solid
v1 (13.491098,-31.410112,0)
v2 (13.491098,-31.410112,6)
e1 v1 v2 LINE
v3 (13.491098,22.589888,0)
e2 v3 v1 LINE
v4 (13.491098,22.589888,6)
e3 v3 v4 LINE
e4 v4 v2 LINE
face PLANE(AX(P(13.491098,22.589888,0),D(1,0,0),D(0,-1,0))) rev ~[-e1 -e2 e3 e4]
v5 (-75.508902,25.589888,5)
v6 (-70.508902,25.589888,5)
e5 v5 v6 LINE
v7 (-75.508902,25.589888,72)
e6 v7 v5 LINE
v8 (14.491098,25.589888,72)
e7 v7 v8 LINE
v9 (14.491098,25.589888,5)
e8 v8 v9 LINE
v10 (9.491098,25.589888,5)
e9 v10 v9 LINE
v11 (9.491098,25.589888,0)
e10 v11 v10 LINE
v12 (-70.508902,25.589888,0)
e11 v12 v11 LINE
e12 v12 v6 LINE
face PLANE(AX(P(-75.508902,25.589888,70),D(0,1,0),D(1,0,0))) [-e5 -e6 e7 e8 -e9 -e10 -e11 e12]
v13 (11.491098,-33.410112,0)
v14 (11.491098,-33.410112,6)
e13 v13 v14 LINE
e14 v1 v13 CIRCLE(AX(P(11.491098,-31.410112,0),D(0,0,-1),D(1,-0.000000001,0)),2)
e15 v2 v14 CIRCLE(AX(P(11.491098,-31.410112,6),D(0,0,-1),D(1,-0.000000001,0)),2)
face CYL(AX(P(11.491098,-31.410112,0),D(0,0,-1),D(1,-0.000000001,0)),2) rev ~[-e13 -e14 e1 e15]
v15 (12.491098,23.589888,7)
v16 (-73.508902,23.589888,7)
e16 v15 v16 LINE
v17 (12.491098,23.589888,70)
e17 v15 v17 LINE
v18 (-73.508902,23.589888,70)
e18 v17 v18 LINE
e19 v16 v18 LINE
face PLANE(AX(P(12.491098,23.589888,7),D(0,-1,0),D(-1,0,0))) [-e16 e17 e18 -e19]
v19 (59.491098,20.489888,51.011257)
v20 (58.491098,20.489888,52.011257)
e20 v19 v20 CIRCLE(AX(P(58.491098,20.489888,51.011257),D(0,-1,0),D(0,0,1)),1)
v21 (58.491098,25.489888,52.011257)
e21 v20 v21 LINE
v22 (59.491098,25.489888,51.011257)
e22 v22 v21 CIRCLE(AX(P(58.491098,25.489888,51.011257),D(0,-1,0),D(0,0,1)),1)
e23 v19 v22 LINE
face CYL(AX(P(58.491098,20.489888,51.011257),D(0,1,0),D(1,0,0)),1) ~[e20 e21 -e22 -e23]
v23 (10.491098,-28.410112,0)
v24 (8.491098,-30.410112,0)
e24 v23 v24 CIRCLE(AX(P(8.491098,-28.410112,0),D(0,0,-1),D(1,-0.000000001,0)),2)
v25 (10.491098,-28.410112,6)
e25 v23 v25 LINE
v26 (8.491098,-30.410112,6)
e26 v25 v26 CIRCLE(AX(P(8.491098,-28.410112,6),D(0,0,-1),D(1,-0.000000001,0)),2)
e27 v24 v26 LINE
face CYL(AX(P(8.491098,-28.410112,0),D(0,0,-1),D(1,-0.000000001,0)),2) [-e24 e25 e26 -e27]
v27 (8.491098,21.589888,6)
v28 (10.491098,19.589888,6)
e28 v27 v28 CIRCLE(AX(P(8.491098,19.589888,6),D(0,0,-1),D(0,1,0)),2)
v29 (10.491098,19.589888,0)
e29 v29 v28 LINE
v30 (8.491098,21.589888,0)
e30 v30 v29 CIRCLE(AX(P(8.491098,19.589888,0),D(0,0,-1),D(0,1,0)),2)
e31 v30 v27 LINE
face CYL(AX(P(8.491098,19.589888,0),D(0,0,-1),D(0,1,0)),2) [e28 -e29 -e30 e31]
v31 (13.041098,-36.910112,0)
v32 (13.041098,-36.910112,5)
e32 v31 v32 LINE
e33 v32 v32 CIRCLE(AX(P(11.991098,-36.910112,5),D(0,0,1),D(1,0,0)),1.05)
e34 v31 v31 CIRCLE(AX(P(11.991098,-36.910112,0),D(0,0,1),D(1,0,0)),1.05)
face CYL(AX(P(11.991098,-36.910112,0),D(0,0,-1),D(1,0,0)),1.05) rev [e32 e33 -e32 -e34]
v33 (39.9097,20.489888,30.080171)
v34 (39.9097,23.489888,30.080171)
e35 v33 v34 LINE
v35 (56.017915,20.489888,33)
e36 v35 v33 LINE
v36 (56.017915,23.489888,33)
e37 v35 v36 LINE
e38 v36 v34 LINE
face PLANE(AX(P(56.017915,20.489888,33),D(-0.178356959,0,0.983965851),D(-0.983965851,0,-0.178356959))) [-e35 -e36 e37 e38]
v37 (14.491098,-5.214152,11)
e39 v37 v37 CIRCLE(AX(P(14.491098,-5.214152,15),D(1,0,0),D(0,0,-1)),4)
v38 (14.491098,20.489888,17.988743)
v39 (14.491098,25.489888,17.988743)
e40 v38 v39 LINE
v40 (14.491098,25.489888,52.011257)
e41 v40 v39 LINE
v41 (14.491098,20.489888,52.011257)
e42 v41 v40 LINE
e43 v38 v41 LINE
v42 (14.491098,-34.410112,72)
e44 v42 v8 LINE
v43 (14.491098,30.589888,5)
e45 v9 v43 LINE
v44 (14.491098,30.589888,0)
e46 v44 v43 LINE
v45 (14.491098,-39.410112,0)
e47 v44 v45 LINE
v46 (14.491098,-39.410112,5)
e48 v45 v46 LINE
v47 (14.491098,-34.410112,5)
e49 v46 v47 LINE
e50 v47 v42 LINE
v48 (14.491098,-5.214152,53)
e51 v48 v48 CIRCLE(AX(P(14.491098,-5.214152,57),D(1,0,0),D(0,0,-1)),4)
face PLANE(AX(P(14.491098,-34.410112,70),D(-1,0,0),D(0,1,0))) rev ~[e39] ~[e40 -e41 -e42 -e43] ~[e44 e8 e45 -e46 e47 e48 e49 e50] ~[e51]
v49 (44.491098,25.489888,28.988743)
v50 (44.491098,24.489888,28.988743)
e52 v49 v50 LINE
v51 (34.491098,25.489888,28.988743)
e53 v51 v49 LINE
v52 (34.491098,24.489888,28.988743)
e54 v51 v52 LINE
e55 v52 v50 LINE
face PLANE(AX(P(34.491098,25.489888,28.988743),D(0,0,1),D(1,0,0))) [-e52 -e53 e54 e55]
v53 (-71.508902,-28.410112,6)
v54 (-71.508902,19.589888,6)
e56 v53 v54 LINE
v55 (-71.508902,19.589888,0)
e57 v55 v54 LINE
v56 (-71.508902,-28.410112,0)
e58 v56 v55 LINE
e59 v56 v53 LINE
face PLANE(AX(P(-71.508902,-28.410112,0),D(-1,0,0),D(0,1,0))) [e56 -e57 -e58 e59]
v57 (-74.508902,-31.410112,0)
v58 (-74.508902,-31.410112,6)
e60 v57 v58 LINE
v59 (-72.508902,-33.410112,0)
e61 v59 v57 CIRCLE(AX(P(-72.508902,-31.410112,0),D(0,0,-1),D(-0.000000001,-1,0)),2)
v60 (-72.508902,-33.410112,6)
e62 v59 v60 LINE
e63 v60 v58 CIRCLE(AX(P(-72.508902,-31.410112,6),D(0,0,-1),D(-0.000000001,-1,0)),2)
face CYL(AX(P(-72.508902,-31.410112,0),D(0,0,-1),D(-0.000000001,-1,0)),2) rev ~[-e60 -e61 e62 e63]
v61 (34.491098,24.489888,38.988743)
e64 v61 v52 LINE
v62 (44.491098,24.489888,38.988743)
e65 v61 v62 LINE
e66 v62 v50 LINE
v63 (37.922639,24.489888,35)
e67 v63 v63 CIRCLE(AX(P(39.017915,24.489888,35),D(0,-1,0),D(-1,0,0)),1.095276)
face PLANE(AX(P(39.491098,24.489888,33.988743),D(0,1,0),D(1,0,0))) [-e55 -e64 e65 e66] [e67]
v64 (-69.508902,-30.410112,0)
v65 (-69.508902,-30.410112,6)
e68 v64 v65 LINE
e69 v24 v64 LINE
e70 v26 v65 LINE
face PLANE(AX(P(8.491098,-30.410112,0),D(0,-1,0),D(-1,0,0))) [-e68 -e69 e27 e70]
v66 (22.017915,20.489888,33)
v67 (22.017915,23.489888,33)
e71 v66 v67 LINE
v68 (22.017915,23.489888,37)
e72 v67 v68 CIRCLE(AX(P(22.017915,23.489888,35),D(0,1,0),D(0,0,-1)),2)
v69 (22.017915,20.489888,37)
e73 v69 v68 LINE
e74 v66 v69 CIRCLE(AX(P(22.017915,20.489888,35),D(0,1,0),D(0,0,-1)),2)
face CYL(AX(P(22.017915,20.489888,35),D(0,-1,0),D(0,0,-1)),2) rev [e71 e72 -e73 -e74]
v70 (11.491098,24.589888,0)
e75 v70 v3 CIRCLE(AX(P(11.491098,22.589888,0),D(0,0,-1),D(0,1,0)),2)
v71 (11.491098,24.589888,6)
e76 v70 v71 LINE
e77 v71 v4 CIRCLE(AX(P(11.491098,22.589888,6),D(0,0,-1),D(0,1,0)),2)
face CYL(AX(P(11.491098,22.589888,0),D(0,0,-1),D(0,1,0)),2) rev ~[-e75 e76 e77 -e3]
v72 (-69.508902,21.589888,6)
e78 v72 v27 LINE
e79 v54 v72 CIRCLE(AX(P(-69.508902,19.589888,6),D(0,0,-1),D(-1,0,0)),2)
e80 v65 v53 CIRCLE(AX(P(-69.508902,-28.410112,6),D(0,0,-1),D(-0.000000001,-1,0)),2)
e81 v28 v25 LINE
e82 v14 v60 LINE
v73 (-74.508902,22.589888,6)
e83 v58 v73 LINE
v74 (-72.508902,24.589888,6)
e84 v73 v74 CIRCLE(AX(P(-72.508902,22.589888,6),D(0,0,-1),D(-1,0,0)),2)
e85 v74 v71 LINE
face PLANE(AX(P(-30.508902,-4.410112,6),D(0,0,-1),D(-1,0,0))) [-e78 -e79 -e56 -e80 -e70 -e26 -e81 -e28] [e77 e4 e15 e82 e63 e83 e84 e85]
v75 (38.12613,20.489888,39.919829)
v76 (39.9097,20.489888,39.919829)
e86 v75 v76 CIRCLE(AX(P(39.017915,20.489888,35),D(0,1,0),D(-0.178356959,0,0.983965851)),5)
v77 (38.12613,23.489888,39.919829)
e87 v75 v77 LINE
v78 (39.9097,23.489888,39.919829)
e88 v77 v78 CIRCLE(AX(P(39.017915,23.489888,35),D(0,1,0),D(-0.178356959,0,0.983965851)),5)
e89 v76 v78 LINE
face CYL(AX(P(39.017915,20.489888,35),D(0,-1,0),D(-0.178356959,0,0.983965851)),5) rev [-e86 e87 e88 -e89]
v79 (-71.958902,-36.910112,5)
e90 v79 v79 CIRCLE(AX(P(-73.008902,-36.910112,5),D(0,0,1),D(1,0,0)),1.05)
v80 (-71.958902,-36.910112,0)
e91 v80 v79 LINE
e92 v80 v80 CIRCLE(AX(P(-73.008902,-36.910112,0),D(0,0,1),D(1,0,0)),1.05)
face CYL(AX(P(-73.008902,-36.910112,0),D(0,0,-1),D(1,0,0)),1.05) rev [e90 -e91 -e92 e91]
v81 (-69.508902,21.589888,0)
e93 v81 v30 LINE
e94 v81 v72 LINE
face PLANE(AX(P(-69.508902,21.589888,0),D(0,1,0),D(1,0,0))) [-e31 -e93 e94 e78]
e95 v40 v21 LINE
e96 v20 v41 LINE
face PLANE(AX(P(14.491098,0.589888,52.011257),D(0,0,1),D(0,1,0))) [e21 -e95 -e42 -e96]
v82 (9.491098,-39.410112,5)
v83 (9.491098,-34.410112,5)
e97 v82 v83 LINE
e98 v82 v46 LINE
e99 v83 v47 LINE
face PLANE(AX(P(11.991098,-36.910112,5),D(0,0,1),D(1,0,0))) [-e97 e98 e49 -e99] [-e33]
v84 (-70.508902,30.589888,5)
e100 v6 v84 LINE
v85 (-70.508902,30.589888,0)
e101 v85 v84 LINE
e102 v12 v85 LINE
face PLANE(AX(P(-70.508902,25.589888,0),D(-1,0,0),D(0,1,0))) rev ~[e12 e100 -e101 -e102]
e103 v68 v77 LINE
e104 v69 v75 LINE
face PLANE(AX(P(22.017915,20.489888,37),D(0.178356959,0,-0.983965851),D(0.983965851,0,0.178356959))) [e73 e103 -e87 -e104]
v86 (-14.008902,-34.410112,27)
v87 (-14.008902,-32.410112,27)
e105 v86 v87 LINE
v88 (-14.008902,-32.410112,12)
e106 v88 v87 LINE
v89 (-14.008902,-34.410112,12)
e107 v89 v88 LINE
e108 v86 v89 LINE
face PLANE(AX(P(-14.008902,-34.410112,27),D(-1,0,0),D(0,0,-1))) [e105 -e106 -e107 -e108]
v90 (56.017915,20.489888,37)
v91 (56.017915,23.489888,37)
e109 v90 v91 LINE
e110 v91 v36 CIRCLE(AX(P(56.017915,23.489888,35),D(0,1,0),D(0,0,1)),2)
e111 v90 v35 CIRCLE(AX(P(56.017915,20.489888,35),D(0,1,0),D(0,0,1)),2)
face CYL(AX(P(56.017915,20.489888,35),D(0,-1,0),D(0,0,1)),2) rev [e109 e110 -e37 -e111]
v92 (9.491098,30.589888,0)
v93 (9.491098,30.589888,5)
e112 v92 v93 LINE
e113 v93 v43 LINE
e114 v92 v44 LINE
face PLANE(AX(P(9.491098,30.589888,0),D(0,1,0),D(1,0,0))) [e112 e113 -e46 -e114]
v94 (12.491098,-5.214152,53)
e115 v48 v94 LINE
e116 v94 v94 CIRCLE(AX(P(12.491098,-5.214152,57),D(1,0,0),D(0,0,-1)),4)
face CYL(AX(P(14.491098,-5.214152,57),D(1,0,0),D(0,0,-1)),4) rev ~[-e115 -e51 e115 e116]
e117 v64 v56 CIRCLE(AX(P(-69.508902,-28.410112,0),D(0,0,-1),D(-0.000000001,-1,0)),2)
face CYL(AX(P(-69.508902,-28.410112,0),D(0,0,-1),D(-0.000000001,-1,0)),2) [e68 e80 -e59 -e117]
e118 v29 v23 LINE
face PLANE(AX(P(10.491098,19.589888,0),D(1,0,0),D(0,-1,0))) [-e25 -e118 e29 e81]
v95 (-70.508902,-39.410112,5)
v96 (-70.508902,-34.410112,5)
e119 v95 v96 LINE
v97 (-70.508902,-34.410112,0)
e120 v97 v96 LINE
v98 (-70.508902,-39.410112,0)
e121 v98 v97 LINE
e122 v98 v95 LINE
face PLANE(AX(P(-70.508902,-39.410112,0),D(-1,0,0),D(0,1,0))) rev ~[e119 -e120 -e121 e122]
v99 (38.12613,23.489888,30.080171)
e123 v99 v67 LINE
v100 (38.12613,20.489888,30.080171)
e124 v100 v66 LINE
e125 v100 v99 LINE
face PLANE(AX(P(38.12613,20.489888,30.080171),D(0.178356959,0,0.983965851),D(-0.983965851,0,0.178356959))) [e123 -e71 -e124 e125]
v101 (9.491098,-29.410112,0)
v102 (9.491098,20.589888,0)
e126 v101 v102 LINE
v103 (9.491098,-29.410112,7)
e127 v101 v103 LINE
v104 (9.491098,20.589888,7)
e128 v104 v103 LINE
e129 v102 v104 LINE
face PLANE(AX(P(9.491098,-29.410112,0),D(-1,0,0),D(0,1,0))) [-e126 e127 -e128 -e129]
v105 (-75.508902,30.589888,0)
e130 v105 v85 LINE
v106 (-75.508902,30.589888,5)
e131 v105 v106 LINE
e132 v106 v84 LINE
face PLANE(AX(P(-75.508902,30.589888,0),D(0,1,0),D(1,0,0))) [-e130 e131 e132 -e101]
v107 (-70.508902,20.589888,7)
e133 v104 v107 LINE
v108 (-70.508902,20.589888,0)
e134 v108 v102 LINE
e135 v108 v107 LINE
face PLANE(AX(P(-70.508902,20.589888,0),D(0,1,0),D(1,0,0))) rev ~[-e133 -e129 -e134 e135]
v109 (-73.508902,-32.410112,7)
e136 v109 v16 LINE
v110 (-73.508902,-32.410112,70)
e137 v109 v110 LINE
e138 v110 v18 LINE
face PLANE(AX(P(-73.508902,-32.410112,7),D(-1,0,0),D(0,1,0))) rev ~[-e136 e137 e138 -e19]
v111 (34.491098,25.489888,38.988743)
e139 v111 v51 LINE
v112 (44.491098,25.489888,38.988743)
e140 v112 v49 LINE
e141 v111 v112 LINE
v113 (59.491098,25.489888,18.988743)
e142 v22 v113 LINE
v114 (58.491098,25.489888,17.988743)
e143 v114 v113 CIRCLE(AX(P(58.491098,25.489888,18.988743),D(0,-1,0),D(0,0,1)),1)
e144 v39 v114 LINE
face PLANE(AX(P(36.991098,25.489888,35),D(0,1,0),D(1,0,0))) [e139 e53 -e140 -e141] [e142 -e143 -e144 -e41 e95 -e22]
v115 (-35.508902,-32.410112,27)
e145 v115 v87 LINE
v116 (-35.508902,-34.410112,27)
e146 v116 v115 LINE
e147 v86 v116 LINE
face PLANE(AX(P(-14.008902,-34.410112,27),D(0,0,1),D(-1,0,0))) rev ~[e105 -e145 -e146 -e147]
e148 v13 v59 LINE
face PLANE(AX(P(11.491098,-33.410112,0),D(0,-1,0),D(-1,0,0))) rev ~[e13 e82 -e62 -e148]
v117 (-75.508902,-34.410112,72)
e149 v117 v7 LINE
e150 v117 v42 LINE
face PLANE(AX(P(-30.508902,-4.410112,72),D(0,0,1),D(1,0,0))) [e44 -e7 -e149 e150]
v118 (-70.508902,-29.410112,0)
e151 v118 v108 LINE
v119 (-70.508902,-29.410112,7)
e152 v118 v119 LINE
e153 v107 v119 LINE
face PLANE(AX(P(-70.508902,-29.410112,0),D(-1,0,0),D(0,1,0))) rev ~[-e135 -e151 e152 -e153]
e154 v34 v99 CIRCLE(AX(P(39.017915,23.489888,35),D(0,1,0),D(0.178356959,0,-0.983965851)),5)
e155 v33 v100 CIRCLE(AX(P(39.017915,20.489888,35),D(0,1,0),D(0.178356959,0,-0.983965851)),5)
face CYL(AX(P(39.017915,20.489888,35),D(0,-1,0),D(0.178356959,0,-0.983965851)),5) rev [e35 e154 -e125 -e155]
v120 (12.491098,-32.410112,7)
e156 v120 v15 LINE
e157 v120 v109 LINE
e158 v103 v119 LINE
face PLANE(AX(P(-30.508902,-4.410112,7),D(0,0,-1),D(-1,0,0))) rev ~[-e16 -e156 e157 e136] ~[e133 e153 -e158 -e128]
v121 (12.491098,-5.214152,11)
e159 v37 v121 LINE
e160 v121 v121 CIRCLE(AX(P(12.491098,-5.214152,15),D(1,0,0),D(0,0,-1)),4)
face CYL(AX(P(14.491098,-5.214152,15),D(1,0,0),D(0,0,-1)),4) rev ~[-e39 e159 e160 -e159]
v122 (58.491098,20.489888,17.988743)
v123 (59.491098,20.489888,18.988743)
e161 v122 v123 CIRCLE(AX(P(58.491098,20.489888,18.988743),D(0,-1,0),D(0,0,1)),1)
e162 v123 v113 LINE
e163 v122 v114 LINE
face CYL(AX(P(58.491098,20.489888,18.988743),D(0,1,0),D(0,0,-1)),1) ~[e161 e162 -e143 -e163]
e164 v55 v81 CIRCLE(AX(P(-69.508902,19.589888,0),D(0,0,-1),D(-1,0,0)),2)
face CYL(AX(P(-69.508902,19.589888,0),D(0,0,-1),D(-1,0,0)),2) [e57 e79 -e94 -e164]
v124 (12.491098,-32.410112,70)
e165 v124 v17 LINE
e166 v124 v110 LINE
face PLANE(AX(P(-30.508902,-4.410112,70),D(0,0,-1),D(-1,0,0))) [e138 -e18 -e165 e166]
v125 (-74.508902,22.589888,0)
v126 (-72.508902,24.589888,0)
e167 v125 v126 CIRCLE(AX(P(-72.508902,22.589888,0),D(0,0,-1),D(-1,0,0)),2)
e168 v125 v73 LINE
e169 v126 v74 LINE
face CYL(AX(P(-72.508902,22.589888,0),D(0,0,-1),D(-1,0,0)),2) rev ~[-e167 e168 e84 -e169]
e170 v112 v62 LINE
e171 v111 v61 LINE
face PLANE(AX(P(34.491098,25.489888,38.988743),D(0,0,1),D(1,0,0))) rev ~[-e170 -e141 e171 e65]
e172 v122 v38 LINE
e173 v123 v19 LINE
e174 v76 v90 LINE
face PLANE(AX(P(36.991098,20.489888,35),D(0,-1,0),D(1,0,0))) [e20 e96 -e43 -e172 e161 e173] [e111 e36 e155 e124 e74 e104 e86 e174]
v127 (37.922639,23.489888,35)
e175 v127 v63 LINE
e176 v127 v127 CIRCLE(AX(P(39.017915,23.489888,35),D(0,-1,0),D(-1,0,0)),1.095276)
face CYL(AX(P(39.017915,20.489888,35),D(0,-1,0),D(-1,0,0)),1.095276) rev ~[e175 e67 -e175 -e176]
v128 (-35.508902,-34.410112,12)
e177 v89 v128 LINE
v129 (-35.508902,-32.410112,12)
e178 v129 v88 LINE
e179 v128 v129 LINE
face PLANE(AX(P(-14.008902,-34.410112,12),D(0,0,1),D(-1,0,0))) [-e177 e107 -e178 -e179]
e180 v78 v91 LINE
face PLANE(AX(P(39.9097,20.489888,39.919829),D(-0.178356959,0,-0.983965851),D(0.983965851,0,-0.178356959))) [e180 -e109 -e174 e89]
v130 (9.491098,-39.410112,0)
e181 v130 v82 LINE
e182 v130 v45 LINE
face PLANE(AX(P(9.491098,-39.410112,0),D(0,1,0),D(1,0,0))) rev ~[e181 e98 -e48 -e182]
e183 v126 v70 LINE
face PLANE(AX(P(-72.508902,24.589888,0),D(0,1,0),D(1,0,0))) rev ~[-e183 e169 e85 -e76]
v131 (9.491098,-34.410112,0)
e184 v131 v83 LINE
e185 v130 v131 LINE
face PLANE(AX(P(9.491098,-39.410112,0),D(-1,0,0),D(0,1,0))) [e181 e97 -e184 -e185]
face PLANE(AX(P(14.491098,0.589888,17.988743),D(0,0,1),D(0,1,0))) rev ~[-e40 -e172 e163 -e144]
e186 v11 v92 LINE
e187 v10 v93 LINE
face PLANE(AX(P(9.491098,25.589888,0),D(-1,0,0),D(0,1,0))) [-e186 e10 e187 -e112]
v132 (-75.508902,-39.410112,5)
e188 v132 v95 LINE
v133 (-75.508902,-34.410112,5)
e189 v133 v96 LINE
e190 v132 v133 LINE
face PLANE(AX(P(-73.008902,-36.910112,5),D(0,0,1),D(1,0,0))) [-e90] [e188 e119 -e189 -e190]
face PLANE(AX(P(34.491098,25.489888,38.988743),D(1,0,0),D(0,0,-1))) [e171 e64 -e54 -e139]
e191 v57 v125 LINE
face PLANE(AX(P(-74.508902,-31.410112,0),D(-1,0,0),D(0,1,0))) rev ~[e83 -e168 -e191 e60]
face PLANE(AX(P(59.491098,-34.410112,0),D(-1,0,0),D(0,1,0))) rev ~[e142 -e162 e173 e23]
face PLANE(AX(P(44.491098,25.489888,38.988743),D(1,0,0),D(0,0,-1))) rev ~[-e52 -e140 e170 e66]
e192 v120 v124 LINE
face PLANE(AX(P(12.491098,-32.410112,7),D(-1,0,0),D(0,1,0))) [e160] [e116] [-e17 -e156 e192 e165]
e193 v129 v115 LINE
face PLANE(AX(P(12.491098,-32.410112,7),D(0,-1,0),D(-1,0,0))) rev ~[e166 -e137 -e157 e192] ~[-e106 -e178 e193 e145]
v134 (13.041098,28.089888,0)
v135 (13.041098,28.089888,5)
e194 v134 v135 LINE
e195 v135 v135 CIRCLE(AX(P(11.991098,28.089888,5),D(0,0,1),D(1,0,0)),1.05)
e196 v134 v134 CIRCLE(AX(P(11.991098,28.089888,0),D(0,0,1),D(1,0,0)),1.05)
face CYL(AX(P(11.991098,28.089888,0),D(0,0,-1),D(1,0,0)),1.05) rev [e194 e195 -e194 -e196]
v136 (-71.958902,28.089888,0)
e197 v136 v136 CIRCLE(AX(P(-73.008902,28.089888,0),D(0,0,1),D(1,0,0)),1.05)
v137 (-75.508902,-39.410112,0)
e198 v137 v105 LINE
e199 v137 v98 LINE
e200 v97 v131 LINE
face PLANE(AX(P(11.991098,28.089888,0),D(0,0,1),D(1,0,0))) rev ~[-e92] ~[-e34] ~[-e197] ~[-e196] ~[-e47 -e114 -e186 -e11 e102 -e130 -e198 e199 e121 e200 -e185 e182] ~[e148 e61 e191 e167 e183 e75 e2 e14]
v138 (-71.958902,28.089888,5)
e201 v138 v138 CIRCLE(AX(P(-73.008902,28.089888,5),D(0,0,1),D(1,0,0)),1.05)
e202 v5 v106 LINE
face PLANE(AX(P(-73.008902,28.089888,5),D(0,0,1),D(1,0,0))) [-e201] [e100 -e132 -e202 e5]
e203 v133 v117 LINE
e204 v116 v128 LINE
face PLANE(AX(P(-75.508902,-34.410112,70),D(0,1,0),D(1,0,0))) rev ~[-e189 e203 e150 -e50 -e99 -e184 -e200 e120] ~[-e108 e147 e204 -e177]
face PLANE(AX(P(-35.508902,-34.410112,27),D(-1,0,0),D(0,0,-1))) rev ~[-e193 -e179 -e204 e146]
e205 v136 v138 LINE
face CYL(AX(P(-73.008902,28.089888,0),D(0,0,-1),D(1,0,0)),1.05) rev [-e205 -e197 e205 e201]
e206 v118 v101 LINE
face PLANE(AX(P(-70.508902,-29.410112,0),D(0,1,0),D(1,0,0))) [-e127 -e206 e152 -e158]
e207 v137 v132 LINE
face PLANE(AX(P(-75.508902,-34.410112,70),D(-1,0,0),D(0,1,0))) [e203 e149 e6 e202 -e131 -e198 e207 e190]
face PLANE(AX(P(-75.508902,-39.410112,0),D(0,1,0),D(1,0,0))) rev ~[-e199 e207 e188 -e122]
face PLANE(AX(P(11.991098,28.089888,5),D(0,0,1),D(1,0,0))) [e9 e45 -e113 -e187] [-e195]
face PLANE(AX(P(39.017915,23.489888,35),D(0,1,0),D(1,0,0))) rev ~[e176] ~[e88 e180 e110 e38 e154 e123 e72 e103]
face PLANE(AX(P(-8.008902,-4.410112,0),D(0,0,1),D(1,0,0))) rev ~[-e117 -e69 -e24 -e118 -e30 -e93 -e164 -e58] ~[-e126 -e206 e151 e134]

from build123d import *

# Parameters (mm, degrees)
SKETCH_1_W           = 135
SKETCH_1_H           = 60
EXTRUDE_1_DEPTH      = 70
SKETCH_6_W           = 45
SKETCH_6_H           = 70
CUT_EXTRUDE_1_DEPTH  = 0.1
SKETCH_5_W           = 45
SKETCH_5_H           = 70
CUT_EXTRUDE_2_DEPTH  = 54.9
SKETCH_7_W           = 80
SKETCH_7_H           = 50
CUT_EXTRUDE_3_DEPTH  = 75
CUT_EXTRUDE_4_DEPTH  = 6
SKETCH_10_W          = 21.5
SKETCH_10_H          = 15
CUT_EXTRUDE_6_DEPTH  = 10
SKETCH_12_W          = 18.906228009
SKETCH_12_H          = 30.34929214
CUT_EXTRUDE_7_DEPTH  = 50
CUT_EXTRUDE_8_DEPTH  = 3
SKETCH_15_W          = 10
SKETCH_15_H          = 10
CUT_EXTRUDE_9_DEPTH  = 1
SKETCH_17_R          = 1.095275866
CUT_EXTRUDE_11_DEPTH = 7
SKETCH_18_W          = 5
SKETCH_18_H          = 5
SKETCH_18_R          = 1.05
EXTRUDE_2_DEPTH      = 5
SKETCH_19_W          = 90
SKETCH_19_H          = 60
EXTRUDE_3_DEPTH      = 2
SKETCH_20_R          = 4
CUT_EXTRUDE_12_DEPTH = 10
SKETCH_21_W          = 86
SKETCH_21_H          = 56
CUT_EXTRUDE_13_DEPTH = 63
FILLET_3_R           = 1
FILLET_4_R           = 1


with BuildPart() as part:
    # 草圖1 → 填料-伸長1 (new body)
    with BuildSketch(Plane.XY):
        with Locations((-8.008902174, -4.41011236)):
            Rectangle(SKETCH_1_W, SKETCH_1_H)
    extrude(amount=EXTRUDE_1_DEPTH)

    # 草圖6 → 除料-伸長1 (cut)
    with BuildSketch(Plane(origin=(0, 25.58988764, 0), x_dir=(1, 0, 0), z_dir=(0, 1, 0))):
        with Locations((36.991097826, -35)):
            Rectangle(SKETCH_6_W, SKETCH_6_H)
    extrude(amount=-CUT_EXTRUDE_1_DEPTH, mode=Mode.SUBTRACT)

    # 草圖5 → 除料-伸長2 (cut)
    with BuildSketch(Plane.XZ.offset(34.41011236)):
        with Locations((36.991097826, 35)):
            Rectangle(SKETCH_5_W, SKETCH_5_H)
    extrude(amount=-CUT_EXTRUDE_2_DEPTH, mode=Mode.SUBTRACT)

    # 草圖7 → 除料-伸長3 (cut)
    with BuildSketch(Plane.XY):
        with Locations((-30.508902174, -4.41011236)):
            Rectangle(SKETCH_7_W, SKETCH_7_H)
    extrude(amount=CUT_EXTRUDE_3_DEPTH, mode=Mode.SUBTRACT)

    # 草圖8 → 除料-伸長4 (cut)
    with BuildSketch(Plane(origin=(0, 0, 0), x_dir=(-1, 0, 0), z_dir=(0, 0, -1))):
        with BuildLine():
            Line((-13.491097826, 22.58988764), (-13.491097826, -31.41011236))
            ThreePointArc((-13.491097826, -31.41011236), (-12.905311388, -32.824325922), (-11.491097826, -33.41011236))
            Line((-11.491097826, -33.41011236), (72.508902174, -33.41011236))
            ThreePointArc((72.508902174, -33.41011236), (73.923115736, -32.824325922), (74.508902174, -31.41011236))
            Line((74.508902174, -31.41011236), (74.508902174, 22.58988764))
            ThreePointArc((74.508902174, 22.58988764), (73.923115736, 24.004101203), (72.508902174, 24.58988764))
            Line((72.508902174, 24.58988764), (-11.491097826, 24.58988764))
            ThreePointArc((-11.491097826, 24.58988764), (-12.905311388, 24.004101203), (-13.491097826, 22.58988764))
        make_face()
        with BuildLine():
            Line((71.508902174, -28.41011236), (71.508902174, 19.58988764))
            ThreePointArc((71.508902174, 19.58988764), (70.923115736, 21.004101203), (69.508902174, 21.58988764))
            Line((69.508902174, 21.58988764), (-8.491097826, 21.58988764))
            ThreePointArc((-8.491097826, 21.58988764), (-9.905311388, 21.004101203), (-10.491097826, 19.58988764))
            Line((-10.491097826, 19.58988764), (-10.491097826, -28.41011236))
            ThreePointArc((-10.491097826, -28.41011236), (-9.905311388, -29.824325922), (-8.491097826, -30.41011236))
            Line((-8.491097826, -30.41011236), (69.508902174, -30.41011236))
            ThreePointArc((69.508902174, -30.41011236), (70.923115736, -29.824325922), (71.508902174, -28.41011236))
        make_face(mode=Mode.SUBTRACT)
    extrude(amount=-CUT_EXTRUDE_4_DEPTH, mode=Mode.SUBTRACT)

    # 草圖10 → 除料-伸長6 (cut)
    with BuildSketch(Plane(origin=(0, -34.41011236, 0), x_dir=(-1, 0, 0), z_dir=(0, -1, 0))):
        with Locations((24.758902174, -19.5)):
            Rectangle(SKETCH_10_W, SKETCH_10_H)
    extrude(amount=-CUT_EXTRUDE_6_DEPTH, mode=Mode.SUBTRACT)

    # 草圖12 → 除料-伸長7 (cut)
    with BuildSketch(Plane(origin=(14.491097826, 0, 0), x_dir=(0, 0, -1), z_dir=(1, 0, 0))):
        with Locations((-61.464370754, 15.76453371)):
            Rectangle(SKETCH_12_W, SKETCH_12_H)
        with Locations((-8.535629247, 15.76453371)):
            Rectangle(SKETCH_12_W, SKETCH_12_H)
    extrude(amount=CUT_EXTRUDE_7_DEPTH, mode=Mode.SUBTRACT)

    # 草圖14 → 除料-伸長8 (cut)
    with BuildSketch(Plane(origin=(0, 20.48988764, 0), x_dir=(-1, 0, 0), z_dir=(0, -1, 0))):
        with BuildLine():
            Line((-38.126130034, -30.080170747), (-22.017914827, -33))
            ThreePointArc((-22.017914827, -33), (-20.017914827, -35), (-22.017914827, -37))
            Line((-22.017914827, -37), (-38.126130034, -39.919829253))
            ThreePointArc((-38.126130034, -39.919829253), (-39.017914827, -40), (-39.909699621, -39.919829253))
            Line((-39.909699621, -39.919829253), (-56.017914827, -37))
            ThreePointArc((-56.017914827, -37), (-58.017914827, -35), (-56.017914827, -33))
            Line((-56.017914827, -33), (-39.909699621, -30.080170747))
            ThreePointArc((-39.909699621, -30.080170747), (-39.017914827, -30), (-38.126130034, -30.080170747))
        make_face()
    extrude(amount=-CUT_EXTRUDE_8_DEPTH, mode=Mode.SUBTRACT)

    # 草圖15 → 除料-伸長9 (cut)
    with BuildSketch(Plane(origin=(0, 25.48988764, 0), x_dir=(1, 0, 0), z_dir=(0, 1, 0))):
        with Locations((39.491097826, -33.988743251)):
            Rectangle(SKETCH_15_W, SKETCH_15_H)
    extrude(amount=-CUT_EXTRUDE_9_DEPTH, mode=Mode.SUBTRACT)

    # 草圖17 → 除料-伸長11 (cut)
    with BuildSketch(Plane(origin=(0, 20.48988764, 0), x_dir=(-1, 0, 0), z_dir=(0, -1, 0))):
        with Locations((-39.017914827, -35)):
            Circle(SKETCH_17_R)
    extrude(amount=-CUT_EXTRUDE_11_DEPTH, mode=Mode.SUBTRACT)

    # 草圖18 → 填料-伸長2 (add)
    with BuildSketch(Plane.XY):
        with Locations((11.991097826, 28.08988764)):
            Rectangle(SKETCH_18_W, SKETCH_18_H)
        with Locations((11.991097826, 28.08988764)):
            Circle(SKETCH_18_R, mode=Mode.SUBTRACT)
        with Locations((-73.008902174, 28.08988764)):
            Rectangle(SKETCH_18_W, SKETCH_18_H)
        with Locations((-73.008902174, 28.08988764)):
            Circle(SKETCH_18_R, mode=Mode.SUBTRACT)
        with Locations((-73.008902174, -36.91011236)):
            Rectangle(SKETCH_18_W, SKETCH_18_H)
        with Locations((-73.008902174, -36.91011236)):
            Circle(SKETCH_18_R, mode=Mode.SUBTRACT)
        with Locations((11.991097826, -36.91011236)):
            Rectangle(SKETCH_18_W, SKETCH_18_H)
        with Locations((11.991097826, -36.91011236)):
            Circle(SKETCH_18_R, mode=Mode.SUBTRACT)
    extrude(amount=EXTRUDE_2_DEPTH)

    # 草圖19 → 填料-伸長3 (add)
    with BuildSketch(Plane.XY.offset(70)):
        with Locations((-30.508902174, -4.41011236)):
            Rectangle(SKETCH_19_W, SKETCH_19_H)
    extrude(amount=EXTRUDE_3_DEPTH)

    # 草圖20 → 除料-伸長12 (cut)
    with BuildSketch(Plane(origin=(14.491097826, 0, 0), x_dir=(0, 0, -1), z_dir=(1, 0, 0))):
        with Locations((-15, -5.21415213)):
            Circle(SKETCH_20_R)
        with Locations((-57, -5.21415213)):
            Circle(SKETCH_20_R)
    extrude(amount=-CUT_EXTRUDE_12_DEPTH, mode=Mode.SUBTRACT)

    # 草圖21 → 除料-伸長13 (cut)
    with BuildSketch(Plane(origin=(0, 0, 7), x_dir=(-1, 0, 0), z_dir=(0, 0, -1))):
        with Locations((30.508902174, -4.41011236)):
            Rectangle(SKETCH_21_W, SKETCH_21_H)
    extrude(amount=-CUT_EXTRUDE_13_DEPTH, mode=Mode.SUBTRACT)

    # 圓角3
    fillet_3_edges = [part.edges().sort_by_distance(p)[0] for p in [
        (59.491097826, 22.98988764, 17.988743251),
    ]]
    fillet(fillet_3_edges, radius=FILLET_3_R)

    # 圓角4
    fillet_4_edges = [part.edges().sort_by_distance(p)[0] for p in [
        (59.491097826, 22.98988764, 52.011256749),
    ]]
    fillet(fillet_4_edges, radius=FILLET_4_R)


solid = part.part
